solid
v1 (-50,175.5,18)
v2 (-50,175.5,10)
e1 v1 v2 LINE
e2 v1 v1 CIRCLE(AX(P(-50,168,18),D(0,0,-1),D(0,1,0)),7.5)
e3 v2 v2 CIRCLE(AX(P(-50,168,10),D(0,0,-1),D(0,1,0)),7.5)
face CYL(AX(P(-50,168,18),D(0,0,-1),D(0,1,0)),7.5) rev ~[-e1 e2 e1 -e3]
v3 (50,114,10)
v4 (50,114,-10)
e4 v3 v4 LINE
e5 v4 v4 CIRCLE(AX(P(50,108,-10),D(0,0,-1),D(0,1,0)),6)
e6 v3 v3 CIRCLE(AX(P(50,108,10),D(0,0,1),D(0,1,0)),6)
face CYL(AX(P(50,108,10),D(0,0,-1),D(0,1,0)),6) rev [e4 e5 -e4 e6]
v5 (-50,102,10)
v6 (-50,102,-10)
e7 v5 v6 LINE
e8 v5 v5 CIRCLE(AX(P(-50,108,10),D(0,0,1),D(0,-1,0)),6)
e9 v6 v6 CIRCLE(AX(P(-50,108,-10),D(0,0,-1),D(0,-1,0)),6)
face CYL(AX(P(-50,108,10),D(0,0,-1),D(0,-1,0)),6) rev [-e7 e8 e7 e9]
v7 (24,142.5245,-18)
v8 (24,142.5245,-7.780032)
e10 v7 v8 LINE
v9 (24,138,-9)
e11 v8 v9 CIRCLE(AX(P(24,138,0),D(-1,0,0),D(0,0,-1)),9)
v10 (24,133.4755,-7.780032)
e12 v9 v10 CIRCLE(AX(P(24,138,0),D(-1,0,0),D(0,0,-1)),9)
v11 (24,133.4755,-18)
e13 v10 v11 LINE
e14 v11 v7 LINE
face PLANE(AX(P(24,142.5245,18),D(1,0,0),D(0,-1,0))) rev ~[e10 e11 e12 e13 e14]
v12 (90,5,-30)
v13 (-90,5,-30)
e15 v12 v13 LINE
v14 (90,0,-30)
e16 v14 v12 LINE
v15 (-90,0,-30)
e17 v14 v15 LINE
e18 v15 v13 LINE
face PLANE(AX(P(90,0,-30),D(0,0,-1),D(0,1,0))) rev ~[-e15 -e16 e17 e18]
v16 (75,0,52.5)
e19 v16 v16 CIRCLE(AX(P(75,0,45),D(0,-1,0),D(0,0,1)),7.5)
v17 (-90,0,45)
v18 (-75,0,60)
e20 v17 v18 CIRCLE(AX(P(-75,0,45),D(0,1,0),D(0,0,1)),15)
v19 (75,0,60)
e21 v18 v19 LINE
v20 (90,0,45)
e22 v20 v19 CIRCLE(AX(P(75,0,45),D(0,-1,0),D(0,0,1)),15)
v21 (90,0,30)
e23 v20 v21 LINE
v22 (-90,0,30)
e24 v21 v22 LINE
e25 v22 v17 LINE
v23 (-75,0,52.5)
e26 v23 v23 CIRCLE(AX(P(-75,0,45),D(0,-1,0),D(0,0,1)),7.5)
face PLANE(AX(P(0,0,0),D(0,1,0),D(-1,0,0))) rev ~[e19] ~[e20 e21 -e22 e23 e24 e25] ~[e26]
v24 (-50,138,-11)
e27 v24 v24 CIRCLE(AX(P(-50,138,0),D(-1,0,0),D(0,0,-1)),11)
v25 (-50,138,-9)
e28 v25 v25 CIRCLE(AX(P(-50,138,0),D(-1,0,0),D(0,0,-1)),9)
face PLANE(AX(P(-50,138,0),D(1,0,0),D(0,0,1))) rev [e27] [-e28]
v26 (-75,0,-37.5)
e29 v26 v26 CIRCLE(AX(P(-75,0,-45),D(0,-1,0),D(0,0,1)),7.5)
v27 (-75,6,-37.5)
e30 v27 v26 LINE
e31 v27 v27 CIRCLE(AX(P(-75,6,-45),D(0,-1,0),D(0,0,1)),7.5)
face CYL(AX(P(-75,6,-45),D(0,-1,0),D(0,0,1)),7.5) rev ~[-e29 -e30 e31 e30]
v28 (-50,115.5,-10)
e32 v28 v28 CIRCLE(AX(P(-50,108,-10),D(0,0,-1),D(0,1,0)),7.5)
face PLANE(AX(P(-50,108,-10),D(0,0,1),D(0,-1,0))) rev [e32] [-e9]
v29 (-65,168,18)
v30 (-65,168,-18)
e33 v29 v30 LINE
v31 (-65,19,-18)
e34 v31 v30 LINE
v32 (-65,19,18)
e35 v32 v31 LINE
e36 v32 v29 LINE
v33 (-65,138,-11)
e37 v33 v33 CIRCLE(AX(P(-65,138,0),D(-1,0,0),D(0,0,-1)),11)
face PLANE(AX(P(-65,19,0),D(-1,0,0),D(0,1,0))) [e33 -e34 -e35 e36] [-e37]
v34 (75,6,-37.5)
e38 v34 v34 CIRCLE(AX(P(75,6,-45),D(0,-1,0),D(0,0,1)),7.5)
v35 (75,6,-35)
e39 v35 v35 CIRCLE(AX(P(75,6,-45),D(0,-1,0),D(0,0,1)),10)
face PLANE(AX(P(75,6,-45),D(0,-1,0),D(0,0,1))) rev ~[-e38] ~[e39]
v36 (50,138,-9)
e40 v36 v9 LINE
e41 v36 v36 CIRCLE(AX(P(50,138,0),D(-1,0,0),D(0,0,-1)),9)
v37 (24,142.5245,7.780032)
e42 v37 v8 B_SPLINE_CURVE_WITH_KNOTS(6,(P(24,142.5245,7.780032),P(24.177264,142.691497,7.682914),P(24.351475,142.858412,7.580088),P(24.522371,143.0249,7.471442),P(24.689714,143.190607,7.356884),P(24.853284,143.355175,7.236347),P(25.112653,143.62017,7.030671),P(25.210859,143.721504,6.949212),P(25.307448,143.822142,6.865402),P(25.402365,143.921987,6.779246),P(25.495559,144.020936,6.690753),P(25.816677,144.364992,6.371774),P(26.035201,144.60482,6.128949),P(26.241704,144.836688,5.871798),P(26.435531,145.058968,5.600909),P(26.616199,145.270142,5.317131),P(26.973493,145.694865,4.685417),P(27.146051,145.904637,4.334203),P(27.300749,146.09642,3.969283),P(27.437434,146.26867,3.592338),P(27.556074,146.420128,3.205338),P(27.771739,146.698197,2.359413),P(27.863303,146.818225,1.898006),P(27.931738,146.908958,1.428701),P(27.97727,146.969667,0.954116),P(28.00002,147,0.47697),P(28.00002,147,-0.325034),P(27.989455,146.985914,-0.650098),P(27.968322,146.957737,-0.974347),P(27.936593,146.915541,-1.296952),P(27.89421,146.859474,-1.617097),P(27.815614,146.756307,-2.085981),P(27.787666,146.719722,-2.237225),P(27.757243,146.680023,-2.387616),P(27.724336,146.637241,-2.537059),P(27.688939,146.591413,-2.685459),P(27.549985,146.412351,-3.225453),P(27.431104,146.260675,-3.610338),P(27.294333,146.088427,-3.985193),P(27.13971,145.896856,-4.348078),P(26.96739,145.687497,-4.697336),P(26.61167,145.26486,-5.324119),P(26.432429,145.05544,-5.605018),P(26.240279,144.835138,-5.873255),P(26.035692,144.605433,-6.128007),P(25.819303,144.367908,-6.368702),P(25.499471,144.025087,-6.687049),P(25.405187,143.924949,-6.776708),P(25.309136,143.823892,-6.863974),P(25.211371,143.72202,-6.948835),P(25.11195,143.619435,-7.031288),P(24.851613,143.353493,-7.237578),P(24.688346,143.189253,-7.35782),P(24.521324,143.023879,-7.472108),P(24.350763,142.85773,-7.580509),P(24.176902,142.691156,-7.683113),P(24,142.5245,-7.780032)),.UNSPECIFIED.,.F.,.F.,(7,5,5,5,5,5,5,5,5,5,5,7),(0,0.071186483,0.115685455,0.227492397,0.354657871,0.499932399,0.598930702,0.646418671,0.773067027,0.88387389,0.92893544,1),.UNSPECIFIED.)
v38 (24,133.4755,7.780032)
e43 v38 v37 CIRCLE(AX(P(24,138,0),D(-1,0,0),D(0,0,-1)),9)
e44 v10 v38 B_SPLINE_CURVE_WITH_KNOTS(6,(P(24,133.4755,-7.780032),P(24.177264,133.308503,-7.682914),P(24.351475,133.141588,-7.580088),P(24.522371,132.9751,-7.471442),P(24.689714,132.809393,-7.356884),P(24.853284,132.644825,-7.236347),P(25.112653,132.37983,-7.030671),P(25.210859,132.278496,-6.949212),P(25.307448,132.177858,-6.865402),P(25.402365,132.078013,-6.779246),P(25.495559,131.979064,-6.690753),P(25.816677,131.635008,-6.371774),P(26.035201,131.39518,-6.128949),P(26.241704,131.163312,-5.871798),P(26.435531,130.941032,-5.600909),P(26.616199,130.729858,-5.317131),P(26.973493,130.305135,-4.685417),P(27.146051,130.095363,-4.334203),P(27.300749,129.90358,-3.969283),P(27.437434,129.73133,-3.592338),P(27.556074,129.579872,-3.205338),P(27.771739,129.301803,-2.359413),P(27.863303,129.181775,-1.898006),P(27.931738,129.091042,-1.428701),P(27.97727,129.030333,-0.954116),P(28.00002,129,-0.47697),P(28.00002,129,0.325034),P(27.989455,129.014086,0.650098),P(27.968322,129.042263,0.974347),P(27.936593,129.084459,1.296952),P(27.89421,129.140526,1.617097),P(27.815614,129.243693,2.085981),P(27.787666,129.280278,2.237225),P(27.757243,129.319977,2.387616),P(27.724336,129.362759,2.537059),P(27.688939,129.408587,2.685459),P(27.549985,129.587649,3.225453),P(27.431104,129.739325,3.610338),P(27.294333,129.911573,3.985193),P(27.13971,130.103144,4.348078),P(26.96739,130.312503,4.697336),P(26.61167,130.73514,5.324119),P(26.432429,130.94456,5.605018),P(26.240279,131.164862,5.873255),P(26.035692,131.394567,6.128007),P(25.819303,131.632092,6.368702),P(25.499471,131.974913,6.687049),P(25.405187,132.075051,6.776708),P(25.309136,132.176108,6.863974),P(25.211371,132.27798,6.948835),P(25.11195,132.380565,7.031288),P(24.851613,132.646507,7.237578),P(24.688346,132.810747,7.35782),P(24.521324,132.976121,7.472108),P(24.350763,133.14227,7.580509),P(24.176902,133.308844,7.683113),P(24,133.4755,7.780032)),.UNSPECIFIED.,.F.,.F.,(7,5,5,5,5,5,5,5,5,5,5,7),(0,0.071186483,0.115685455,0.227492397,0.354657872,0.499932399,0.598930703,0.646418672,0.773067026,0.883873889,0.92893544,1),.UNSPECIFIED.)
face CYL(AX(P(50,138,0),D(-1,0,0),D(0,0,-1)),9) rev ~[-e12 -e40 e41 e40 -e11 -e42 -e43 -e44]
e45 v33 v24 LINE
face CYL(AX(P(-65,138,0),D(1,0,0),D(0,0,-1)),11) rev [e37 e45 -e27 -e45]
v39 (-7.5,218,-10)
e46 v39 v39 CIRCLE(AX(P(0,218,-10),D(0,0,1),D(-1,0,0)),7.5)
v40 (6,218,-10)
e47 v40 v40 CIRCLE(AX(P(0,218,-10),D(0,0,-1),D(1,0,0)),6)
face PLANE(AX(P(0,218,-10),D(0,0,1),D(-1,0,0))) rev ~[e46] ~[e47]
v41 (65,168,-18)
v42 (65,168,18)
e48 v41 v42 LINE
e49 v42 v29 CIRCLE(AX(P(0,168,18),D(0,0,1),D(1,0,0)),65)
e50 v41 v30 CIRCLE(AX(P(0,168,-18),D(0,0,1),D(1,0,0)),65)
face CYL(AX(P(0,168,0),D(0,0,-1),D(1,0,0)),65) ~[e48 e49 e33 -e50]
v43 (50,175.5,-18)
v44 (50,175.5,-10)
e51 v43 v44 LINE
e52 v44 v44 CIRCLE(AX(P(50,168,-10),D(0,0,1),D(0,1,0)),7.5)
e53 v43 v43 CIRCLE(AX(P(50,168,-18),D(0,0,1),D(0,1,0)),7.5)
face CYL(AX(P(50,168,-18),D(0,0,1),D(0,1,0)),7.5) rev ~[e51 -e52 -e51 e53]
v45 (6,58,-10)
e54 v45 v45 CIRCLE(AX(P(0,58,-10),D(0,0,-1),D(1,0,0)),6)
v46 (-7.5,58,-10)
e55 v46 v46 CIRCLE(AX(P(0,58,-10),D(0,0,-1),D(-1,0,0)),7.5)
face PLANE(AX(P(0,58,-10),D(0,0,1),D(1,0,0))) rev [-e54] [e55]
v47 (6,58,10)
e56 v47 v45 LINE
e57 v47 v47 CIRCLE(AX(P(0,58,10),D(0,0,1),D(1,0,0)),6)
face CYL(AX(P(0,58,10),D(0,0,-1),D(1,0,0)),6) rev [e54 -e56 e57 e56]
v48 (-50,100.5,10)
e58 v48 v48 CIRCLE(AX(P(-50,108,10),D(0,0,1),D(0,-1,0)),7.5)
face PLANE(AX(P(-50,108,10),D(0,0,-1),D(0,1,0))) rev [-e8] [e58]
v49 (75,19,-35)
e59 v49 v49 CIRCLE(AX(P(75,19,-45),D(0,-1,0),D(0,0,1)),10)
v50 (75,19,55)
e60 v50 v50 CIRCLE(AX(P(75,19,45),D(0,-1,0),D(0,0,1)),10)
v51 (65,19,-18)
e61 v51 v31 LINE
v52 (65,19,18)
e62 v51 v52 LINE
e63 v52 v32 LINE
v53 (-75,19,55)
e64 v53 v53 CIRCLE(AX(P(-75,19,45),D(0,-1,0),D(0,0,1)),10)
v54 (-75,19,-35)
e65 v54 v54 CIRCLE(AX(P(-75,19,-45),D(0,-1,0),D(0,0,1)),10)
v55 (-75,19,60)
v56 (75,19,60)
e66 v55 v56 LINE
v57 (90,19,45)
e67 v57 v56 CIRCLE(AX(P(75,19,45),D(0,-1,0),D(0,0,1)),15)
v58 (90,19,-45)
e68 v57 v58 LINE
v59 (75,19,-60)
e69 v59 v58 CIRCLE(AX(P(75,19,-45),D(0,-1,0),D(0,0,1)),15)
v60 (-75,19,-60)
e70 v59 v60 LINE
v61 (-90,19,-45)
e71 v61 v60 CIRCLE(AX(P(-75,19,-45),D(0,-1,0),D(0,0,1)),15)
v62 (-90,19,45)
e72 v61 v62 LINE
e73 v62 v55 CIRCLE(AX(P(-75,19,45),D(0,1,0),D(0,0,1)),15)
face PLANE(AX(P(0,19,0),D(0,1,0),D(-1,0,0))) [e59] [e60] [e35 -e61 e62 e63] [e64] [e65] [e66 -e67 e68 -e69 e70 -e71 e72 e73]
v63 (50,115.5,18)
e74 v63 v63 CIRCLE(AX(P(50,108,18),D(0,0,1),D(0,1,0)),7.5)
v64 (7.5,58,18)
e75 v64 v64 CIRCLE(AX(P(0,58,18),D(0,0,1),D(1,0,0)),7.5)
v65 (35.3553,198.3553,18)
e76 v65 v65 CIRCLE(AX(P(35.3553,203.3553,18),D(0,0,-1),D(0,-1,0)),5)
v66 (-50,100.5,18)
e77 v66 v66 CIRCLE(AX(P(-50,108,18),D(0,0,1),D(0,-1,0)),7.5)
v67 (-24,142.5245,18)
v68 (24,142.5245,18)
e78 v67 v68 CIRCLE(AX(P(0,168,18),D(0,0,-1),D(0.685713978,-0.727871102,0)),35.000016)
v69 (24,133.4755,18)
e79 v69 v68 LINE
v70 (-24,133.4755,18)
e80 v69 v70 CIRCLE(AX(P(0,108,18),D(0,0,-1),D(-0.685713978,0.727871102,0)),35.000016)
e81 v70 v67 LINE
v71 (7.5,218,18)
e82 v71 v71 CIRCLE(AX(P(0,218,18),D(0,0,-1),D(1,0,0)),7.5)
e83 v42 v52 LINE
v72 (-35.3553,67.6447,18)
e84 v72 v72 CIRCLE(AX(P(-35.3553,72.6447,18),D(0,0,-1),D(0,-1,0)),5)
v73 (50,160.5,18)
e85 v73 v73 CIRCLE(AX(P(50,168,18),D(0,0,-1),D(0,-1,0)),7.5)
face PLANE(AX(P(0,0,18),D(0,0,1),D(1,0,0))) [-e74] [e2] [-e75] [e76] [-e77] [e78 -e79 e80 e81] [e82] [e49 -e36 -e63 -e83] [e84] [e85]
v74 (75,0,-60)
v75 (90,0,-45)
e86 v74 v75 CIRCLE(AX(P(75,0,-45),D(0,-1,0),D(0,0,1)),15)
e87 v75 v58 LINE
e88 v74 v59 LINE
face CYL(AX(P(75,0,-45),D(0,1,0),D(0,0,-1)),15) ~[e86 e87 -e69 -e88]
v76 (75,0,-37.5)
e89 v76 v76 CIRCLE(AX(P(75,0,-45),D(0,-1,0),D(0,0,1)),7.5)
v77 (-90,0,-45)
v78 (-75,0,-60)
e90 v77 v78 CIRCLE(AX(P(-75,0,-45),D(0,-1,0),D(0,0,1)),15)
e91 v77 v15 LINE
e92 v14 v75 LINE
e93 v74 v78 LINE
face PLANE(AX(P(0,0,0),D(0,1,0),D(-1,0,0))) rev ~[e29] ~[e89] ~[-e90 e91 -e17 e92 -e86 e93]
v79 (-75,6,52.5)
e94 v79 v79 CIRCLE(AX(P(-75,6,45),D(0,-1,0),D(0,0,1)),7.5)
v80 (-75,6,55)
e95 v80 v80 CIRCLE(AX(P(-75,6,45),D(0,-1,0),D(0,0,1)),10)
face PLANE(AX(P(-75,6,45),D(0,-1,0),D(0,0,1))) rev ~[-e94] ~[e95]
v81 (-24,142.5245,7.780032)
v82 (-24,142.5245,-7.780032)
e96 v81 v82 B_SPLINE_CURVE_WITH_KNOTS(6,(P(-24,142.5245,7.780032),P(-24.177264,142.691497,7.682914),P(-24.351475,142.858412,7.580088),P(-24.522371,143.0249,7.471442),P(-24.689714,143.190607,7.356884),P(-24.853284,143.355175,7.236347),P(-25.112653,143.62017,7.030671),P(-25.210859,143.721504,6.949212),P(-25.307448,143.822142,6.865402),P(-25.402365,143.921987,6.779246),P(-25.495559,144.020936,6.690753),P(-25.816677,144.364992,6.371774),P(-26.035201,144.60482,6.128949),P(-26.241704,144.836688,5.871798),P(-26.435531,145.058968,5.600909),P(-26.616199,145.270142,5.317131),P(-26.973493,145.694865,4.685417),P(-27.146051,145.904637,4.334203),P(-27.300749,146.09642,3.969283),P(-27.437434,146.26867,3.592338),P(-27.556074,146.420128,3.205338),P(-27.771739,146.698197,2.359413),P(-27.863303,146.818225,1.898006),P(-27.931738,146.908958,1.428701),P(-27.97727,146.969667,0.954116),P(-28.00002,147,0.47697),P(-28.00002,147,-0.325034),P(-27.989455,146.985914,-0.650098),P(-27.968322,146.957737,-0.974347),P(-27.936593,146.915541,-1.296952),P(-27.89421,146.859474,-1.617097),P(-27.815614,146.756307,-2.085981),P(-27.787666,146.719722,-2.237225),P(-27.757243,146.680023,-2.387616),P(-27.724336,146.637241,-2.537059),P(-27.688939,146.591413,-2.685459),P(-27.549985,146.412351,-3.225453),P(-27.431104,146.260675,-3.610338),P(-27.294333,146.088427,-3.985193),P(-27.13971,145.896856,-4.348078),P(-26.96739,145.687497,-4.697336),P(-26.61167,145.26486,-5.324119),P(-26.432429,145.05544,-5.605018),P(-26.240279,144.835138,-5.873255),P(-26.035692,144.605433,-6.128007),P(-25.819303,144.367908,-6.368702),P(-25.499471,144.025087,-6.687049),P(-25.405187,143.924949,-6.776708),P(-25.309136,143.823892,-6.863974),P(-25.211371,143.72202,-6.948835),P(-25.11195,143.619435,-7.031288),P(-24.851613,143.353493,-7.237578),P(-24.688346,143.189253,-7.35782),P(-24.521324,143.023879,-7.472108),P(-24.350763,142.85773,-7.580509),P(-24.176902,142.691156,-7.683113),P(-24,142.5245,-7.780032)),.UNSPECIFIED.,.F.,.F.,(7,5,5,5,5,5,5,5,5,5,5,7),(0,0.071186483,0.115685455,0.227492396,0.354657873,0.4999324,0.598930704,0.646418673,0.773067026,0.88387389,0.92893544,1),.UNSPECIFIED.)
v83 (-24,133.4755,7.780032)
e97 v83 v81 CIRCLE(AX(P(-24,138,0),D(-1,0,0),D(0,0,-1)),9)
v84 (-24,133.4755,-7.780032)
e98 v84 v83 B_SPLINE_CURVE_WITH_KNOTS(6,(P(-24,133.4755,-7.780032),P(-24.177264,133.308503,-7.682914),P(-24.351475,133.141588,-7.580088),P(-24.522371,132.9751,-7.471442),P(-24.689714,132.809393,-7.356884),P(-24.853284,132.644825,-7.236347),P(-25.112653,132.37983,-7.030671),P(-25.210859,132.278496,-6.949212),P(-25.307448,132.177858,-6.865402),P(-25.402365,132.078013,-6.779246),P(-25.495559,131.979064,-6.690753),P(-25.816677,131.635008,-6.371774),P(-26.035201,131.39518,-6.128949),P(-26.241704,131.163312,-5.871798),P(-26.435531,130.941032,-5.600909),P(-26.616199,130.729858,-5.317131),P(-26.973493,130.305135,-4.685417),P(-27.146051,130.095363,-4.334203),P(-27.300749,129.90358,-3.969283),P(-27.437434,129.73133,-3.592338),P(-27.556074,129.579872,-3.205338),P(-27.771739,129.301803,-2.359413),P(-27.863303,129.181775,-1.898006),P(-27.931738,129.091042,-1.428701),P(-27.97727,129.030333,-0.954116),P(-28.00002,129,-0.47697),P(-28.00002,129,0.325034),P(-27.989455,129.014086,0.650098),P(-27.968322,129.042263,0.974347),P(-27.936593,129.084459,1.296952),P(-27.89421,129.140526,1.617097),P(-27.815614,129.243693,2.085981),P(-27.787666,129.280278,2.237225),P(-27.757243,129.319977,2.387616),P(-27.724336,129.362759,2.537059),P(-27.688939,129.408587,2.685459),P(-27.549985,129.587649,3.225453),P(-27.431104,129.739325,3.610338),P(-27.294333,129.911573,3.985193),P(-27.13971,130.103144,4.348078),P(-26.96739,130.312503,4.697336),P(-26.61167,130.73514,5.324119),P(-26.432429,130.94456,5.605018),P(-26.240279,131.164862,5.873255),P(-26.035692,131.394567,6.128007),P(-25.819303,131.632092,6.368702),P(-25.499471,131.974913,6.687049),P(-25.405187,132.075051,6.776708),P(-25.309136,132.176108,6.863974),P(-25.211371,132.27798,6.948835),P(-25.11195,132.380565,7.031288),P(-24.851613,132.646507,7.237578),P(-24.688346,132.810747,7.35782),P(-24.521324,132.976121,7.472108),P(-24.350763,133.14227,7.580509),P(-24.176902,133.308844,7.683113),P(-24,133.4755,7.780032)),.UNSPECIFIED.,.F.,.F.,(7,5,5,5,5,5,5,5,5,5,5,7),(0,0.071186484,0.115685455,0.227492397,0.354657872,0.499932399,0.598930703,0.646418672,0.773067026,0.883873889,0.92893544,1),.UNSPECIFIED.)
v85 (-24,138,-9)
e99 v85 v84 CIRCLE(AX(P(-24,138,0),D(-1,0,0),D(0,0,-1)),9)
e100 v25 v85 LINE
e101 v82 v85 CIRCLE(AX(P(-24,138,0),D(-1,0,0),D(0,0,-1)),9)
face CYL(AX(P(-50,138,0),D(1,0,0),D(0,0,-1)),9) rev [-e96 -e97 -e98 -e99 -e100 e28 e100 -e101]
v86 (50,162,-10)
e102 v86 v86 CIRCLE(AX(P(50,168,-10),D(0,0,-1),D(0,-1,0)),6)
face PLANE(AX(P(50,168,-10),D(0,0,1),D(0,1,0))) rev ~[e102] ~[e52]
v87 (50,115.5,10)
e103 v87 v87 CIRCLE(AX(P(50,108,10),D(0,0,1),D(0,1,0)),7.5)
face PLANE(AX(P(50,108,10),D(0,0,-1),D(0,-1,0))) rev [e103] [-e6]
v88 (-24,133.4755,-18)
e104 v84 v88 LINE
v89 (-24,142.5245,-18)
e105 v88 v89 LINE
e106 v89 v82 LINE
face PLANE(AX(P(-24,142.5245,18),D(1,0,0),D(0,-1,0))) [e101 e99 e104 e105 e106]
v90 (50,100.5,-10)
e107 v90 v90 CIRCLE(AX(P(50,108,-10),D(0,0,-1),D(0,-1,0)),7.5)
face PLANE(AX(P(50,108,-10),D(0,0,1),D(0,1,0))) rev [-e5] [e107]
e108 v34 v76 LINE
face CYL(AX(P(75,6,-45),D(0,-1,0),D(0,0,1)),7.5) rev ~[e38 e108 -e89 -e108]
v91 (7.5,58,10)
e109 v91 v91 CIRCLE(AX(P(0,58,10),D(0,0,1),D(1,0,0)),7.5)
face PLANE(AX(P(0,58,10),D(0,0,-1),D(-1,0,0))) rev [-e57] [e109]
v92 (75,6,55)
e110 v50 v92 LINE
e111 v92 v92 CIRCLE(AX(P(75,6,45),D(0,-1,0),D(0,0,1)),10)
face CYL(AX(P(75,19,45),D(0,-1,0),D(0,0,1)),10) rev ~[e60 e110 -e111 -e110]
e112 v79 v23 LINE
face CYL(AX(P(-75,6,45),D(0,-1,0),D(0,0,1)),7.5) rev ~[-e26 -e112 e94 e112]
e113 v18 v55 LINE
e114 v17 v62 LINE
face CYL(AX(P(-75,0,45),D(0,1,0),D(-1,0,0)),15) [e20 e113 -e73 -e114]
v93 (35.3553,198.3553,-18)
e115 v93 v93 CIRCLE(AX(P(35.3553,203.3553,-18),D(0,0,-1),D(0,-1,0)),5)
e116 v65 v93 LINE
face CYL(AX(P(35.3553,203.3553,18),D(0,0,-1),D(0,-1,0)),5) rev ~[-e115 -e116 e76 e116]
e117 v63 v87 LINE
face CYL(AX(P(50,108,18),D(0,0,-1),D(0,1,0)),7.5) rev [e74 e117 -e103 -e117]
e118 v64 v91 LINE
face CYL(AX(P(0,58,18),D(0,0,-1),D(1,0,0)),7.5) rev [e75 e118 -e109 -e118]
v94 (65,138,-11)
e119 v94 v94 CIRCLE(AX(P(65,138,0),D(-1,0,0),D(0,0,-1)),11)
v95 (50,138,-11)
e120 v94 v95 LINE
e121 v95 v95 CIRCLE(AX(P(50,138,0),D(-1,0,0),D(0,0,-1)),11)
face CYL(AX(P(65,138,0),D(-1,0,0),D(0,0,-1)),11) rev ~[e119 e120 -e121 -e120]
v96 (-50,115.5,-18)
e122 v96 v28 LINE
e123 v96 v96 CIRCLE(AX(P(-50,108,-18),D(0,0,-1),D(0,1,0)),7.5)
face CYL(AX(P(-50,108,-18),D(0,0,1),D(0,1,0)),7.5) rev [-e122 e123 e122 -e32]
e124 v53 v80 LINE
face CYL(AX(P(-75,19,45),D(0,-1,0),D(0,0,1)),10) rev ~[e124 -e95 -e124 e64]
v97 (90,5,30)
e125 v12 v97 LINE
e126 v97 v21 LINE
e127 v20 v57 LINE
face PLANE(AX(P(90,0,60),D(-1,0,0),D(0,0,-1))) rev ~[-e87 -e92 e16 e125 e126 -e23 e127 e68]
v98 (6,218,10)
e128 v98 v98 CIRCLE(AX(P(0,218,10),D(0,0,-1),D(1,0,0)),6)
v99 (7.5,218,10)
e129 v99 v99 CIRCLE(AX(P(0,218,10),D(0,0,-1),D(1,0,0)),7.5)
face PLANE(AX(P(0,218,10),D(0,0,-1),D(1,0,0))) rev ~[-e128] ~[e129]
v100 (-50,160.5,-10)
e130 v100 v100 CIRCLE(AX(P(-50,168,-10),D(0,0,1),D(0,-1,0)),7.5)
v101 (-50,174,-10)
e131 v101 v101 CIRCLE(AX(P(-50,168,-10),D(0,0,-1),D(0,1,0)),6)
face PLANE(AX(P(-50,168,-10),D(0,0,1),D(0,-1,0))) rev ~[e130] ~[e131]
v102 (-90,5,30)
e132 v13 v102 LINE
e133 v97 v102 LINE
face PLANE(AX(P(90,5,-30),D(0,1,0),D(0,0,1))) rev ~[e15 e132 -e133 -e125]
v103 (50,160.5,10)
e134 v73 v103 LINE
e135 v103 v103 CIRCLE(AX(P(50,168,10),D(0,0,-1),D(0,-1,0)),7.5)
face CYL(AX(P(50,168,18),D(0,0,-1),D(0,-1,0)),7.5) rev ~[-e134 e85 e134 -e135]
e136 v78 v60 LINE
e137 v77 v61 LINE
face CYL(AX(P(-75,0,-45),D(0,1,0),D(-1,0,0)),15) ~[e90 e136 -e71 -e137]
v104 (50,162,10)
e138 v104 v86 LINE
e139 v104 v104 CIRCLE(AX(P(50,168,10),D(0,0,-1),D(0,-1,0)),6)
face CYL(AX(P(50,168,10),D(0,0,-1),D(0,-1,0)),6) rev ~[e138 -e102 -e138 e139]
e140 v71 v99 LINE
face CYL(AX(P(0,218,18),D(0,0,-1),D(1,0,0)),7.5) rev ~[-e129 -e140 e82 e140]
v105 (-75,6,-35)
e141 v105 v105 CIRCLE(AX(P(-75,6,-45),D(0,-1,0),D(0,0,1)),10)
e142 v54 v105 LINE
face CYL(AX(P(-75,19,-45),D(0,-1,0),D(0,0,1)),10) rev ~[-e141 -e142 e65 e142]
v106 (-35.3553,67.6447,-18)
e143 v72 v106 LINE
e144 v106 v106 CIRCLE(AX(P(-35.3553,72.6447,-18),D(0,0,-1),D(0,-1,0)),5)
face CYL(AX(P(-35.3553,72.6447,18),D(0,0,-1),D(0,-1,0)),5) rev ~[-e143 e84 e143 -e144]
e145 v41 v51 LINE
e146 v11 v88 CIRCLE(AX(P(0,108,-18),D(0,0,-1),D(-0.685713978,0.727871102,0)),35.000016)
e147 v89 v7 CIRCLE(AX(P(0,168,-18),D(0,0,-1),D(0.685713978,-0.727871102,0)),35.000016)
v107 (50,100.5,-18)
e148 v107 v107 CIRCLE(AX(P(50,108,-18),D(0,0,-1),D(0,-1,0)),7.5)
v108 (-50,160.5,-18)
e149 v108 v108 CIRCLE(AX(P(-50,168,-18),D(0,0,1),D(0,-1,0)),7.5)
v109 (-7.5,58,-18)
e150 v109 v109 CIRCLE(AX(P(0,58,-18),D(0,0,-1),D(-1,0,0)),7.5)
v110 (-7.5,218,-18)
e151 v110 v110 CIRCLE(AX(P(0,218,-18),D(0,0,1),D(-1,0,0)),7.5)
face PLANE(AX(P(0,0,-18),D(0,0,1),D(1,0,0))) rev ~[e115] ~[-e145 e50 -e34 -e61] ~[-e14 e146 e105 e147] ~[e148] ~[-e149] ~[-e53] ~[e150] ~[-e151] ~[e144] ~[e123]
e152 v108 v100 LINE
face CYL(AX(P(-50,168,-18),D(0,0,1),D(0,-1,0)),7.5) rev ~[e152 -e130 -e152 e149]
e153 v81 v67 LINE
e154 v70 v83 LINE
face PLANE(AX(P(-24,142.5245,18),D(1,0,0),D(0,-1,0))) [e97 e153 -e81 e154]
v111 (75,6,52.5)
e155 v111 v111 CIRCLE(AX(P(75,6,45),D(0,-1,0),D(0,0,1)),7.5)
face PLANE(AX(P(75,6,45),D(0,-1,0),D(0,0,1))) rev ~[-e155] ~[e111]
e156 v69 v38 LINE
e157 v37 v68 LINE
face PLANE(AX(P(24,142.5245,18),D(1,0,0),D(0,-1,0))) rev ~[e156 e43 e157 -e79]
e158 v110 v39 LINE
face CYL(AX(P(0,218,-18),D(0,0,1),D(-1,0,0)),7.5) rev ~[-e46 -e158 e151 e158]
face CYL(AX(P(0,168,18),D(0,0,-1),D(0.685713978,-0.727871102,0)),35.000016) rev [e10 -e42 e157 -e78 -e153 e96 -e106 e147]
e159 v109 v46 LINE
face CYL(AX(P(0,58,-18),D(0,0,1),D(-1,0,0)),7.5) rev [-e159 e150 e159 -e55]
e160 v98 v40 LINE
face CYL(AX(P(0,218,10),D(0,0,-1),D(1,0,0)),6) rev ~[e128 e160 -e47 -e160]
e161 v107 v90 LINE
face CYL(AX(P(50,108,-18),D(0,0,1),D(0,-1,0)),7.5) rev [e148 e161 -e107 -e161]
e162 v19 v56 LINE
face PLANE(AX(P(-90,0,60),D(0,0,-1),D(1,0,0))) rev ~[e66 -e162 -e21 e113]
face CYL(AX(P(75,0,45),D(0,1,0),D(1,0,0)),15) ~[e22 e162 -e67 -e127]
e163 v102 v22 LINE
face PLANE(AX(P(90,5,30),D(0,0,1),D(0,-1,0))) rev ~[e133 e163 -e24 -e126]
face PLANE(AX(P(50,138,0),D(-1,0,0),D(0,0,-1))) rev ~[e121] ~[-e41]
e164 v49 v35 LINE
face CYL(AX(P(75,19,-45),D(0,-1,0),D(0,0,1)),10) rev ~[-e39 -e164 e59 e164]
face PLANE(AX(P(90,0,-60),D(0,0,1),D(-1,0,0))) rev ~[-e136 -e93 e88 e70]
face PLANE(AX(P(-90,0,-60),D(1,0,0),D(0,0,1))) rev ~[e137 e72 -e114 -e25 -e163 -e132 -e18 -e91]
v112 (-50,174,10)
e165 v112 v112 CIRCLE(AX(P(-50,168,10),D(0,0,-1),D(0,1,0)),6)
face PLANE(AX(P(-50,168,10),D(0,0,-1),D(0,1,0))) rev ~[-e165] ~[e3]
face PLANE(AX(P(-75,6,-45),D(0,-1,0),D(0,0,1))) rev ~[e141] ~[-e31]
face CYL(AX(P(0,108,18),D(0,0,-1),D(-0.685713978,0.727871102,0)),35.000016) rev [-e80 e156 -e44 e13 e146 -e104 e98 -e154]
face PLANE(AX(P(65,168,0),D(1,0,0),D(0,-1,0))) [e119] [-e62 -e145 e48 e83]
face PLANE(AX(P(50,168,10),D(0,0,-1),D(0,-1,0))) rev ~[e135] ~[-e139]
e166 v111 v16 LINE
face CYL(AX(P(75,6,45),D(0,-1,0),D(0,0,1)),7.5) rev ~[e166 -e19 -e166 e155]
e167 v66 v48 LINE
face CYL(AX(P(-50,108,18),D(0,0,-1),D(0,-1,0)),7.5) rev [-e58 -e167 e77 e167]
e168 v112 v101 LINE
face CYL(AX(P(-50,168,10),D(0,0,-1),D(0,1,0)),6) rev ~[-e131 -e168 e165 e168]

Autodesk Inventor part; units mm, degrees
ref_plane "YZ Plane" through (0, 0, 0) normal (1, 0, 0) x (0, 1, 0)
ref_plane "XZ Plane" through (0, 0, 0) normal (0, 1, 0) x (-1, 0, 0)
sketch "Sketch1" plane through (0, 0, 0) normal (0, 1, 0) x (-1, 0, 0)
  line L0 (90, 60) -> (-90, 60)
  line L1 (-90, 60) -> (-90, -60)
  line L2 (-90, -60) -> (90, -60)
  line L3 (90, -60) -> (90, 60)
  line L4 (90, 60) -> (-90, -60) construction
  line L5 (-90, 60) -> (90, -60) construction
  point P0 (0, 0)
  dimension "d0" = 180
  dimension "d1" = 120
extrude "Extrusion1" add sketch "Sketch1" along normal blind 19
fillet "Fillet1" radius 15 4 edges at (90, 9.5, 60) (90, 9.5, -60) (-90, 9.5, -60) (-90, 9.5, 60)
sketch "Sketch2" plane through (0, 0, 0) normal (0, 0, 1) x (1, 0, 0)
  line L0 (75, 19) -> (-75, 19) projected
  line L1 (-65, 19) -> (-65, 168)
  arc A0 (65, 168) -> (-65, 168) centre (0, 168) ccw
  line L2 (65, 168) -> (65, 19)
  line L3 (75, 0) -> (-75, 0) projected
  point P0 (0, 0)
  point P1 (0, 0)
  dimension "d5" = 168
  dimension "d6" = 65
extrude "Extrusion2" add sketch "Sketch2" along normal mid plane 36
sketch "Sketch3" plane through (0, 0, 18) normal (0, 0, 1) x (1, 0, 0)
  arc A0 (65, 168) -> (-65, 168) centre (0, 168) ccw projected
  arc A1 (24, 142.5245) -> (-24, 142.5245) centre (0, 168) ccw
  arc A2 (-24, 133.4755) -> (24, 133.4755) centre (0, 108) ccw
  line L0 (-24, 142.5245) -> (-24, 133.4755)
  line L1 (24, 142.5245) -> (24, 133.4755)
  point P0 (0, 0)
  dimension "d9" = 70
  dimension "d10" = 70
  dimension "d11" = 60
  dimension "d12" = 48
extrude "Extrusion3" cut sketch "Sketch3" along normal through all both and the other way through all
sketch "Sketch4" plane through (90, 0, 45) normal (1, 0, 0) x (0, 0, -1)
  line L0 (0, 0) -> (90, 0) projected
  line L1 (15, 0) -> (75, 0)
  line L2 (75, 0) -> (75, 5)
  line L3 (75, 5) -> (15, 5)
  line L4 (15, 5) -> (15, 0)
  line L5 (15, 0) -> (75, 5) construction
  line L6 (75, 0) -> (15, 5) construction
  point P0 (45, 0)
  point P1 (45, 2.5)
  point P2 (45, 0)
  dimension "d15" = 60
  dimension "d16" = 5
extrude "Extrusion4" cut sketch "Sketch4" against normal through all
sketch "Sketch5" plane through (0, 0, 18) normal (0, 0, 1) x (1, 0, 0)
  arc A0 (24, 142.5245) -> (-24, 142.5245) centre (0, 168) ccw projected
  point P0 (0, 0)
  point P1 (50, 168)
  dimension "d19" = 50
hole "Hole1" at (50, 168, 18) direction (0, 0, -1) diameter 12 end through all counterbore diameter 15 counterbore depth 8
sketch "Sketch6" plane through (0, 0, -18) normal (0, 0, -1) x (-1, 0, 0)
  circle A0 centre (-50, 168) radius 6 projected
  point P0 (0, 0)
hole "Hole2" at (50, 168, -18) direction (0, 0, 1) diameter 15 depth 8
pattern_circular "Circular Pattern1" count 3 over 180 about axis through (0, 168, 18) along (0, 0, 1) of "Hole1", "Hole2"
ref_plane "Work Plane1" through (-24, 138, 18) normal (0, 1, 0) x (1, 0, 0)
mirror "Mirror1" about plane through (-24, 138, 18) normal (0, 1, 0) of "Hole1", "Hole2", "Circular Pattern1"
sketch "Sketch7" plane through (0, 0, 18) normal (0, 0, 1) x (1, 0, 0)
  arc A0 (-24, 133.4755) -> (24, 133.4755) centre (0, 108) ccw projected
  arc A1 (65, 168) -> (-65, 168) centre (0, 168) ccw projected
  line L0 (0, 168) -> (35.3553, 203.3553) construction
  line L1 (0, 108) -> (-35.3553, 72.6447) construction
  line L2 (-126, 0) -> (126, 0) construction
  point P0 (0, 0)
  dimension "d37" = 50
  dimension "d38" = 45
hole "Hole3" at (35.3553, 203.3553, 18) at (-35.3553, 72.6447, 18) direction (0, 0, -1) diameter 10 end through all
sketch "Sketch8" plane through (0, 19, 0) normal (0, 1, 0) x (1, 0, 0)
  arc A0 (-90, -45) -> (-75, -60) centre (-75, -45) ccw projected
  arc A1 (75, -60) -> (90, -45) centre (75, -45) ccw projected
  arc A2 (90, 45) -> (75, 60) centre (75, 45) ccw projected
  arc A3 (-75, 60) -> (-90, 45) centre (-75, 45) ccw projected
  point P0 (0, 0)
hole "Hole4" at (-75, 19, 45) at (75, 19, 45) at (75, 19, -45) at (-75, 19, -45) direction (0, -1, 0) diameter 15 end through all counterbore diameter 20 counterbore depth 13
sketch "Sketch9" plane through (65, 19, 18) normal (1, 0, 0) x (0, 0, -1)
  line L0 (0, 123.5245) -> (36, 123.5245) projected
  line L1 (36, 114.4755) -> (0, 114.4755) projected
  line L2 (36, 114.4755) -> (0, 114.4755) projected
  line L3 (36, 123.5245) -> (0, 114.4755)
  point P0 (18, -19)
  point P1 (18, 119)
  point P2 (18, 119)
hole "Hole5" at (65, 138, 0) direction (-1, 0, 0) diameter 18 depth 41 counterbore diameter 22 counterbore depth 15
mirror "Mirror2" about plane through (0, 0, 0) normal (1, 0, 0) of "Hole5"
ref_plane "Work Plane2" through (-24, 138, 18) normal (0, 1, 0) x (1, 0, 0)
properties part number "Part024. Bearing box" material "Steel, Carbon"
